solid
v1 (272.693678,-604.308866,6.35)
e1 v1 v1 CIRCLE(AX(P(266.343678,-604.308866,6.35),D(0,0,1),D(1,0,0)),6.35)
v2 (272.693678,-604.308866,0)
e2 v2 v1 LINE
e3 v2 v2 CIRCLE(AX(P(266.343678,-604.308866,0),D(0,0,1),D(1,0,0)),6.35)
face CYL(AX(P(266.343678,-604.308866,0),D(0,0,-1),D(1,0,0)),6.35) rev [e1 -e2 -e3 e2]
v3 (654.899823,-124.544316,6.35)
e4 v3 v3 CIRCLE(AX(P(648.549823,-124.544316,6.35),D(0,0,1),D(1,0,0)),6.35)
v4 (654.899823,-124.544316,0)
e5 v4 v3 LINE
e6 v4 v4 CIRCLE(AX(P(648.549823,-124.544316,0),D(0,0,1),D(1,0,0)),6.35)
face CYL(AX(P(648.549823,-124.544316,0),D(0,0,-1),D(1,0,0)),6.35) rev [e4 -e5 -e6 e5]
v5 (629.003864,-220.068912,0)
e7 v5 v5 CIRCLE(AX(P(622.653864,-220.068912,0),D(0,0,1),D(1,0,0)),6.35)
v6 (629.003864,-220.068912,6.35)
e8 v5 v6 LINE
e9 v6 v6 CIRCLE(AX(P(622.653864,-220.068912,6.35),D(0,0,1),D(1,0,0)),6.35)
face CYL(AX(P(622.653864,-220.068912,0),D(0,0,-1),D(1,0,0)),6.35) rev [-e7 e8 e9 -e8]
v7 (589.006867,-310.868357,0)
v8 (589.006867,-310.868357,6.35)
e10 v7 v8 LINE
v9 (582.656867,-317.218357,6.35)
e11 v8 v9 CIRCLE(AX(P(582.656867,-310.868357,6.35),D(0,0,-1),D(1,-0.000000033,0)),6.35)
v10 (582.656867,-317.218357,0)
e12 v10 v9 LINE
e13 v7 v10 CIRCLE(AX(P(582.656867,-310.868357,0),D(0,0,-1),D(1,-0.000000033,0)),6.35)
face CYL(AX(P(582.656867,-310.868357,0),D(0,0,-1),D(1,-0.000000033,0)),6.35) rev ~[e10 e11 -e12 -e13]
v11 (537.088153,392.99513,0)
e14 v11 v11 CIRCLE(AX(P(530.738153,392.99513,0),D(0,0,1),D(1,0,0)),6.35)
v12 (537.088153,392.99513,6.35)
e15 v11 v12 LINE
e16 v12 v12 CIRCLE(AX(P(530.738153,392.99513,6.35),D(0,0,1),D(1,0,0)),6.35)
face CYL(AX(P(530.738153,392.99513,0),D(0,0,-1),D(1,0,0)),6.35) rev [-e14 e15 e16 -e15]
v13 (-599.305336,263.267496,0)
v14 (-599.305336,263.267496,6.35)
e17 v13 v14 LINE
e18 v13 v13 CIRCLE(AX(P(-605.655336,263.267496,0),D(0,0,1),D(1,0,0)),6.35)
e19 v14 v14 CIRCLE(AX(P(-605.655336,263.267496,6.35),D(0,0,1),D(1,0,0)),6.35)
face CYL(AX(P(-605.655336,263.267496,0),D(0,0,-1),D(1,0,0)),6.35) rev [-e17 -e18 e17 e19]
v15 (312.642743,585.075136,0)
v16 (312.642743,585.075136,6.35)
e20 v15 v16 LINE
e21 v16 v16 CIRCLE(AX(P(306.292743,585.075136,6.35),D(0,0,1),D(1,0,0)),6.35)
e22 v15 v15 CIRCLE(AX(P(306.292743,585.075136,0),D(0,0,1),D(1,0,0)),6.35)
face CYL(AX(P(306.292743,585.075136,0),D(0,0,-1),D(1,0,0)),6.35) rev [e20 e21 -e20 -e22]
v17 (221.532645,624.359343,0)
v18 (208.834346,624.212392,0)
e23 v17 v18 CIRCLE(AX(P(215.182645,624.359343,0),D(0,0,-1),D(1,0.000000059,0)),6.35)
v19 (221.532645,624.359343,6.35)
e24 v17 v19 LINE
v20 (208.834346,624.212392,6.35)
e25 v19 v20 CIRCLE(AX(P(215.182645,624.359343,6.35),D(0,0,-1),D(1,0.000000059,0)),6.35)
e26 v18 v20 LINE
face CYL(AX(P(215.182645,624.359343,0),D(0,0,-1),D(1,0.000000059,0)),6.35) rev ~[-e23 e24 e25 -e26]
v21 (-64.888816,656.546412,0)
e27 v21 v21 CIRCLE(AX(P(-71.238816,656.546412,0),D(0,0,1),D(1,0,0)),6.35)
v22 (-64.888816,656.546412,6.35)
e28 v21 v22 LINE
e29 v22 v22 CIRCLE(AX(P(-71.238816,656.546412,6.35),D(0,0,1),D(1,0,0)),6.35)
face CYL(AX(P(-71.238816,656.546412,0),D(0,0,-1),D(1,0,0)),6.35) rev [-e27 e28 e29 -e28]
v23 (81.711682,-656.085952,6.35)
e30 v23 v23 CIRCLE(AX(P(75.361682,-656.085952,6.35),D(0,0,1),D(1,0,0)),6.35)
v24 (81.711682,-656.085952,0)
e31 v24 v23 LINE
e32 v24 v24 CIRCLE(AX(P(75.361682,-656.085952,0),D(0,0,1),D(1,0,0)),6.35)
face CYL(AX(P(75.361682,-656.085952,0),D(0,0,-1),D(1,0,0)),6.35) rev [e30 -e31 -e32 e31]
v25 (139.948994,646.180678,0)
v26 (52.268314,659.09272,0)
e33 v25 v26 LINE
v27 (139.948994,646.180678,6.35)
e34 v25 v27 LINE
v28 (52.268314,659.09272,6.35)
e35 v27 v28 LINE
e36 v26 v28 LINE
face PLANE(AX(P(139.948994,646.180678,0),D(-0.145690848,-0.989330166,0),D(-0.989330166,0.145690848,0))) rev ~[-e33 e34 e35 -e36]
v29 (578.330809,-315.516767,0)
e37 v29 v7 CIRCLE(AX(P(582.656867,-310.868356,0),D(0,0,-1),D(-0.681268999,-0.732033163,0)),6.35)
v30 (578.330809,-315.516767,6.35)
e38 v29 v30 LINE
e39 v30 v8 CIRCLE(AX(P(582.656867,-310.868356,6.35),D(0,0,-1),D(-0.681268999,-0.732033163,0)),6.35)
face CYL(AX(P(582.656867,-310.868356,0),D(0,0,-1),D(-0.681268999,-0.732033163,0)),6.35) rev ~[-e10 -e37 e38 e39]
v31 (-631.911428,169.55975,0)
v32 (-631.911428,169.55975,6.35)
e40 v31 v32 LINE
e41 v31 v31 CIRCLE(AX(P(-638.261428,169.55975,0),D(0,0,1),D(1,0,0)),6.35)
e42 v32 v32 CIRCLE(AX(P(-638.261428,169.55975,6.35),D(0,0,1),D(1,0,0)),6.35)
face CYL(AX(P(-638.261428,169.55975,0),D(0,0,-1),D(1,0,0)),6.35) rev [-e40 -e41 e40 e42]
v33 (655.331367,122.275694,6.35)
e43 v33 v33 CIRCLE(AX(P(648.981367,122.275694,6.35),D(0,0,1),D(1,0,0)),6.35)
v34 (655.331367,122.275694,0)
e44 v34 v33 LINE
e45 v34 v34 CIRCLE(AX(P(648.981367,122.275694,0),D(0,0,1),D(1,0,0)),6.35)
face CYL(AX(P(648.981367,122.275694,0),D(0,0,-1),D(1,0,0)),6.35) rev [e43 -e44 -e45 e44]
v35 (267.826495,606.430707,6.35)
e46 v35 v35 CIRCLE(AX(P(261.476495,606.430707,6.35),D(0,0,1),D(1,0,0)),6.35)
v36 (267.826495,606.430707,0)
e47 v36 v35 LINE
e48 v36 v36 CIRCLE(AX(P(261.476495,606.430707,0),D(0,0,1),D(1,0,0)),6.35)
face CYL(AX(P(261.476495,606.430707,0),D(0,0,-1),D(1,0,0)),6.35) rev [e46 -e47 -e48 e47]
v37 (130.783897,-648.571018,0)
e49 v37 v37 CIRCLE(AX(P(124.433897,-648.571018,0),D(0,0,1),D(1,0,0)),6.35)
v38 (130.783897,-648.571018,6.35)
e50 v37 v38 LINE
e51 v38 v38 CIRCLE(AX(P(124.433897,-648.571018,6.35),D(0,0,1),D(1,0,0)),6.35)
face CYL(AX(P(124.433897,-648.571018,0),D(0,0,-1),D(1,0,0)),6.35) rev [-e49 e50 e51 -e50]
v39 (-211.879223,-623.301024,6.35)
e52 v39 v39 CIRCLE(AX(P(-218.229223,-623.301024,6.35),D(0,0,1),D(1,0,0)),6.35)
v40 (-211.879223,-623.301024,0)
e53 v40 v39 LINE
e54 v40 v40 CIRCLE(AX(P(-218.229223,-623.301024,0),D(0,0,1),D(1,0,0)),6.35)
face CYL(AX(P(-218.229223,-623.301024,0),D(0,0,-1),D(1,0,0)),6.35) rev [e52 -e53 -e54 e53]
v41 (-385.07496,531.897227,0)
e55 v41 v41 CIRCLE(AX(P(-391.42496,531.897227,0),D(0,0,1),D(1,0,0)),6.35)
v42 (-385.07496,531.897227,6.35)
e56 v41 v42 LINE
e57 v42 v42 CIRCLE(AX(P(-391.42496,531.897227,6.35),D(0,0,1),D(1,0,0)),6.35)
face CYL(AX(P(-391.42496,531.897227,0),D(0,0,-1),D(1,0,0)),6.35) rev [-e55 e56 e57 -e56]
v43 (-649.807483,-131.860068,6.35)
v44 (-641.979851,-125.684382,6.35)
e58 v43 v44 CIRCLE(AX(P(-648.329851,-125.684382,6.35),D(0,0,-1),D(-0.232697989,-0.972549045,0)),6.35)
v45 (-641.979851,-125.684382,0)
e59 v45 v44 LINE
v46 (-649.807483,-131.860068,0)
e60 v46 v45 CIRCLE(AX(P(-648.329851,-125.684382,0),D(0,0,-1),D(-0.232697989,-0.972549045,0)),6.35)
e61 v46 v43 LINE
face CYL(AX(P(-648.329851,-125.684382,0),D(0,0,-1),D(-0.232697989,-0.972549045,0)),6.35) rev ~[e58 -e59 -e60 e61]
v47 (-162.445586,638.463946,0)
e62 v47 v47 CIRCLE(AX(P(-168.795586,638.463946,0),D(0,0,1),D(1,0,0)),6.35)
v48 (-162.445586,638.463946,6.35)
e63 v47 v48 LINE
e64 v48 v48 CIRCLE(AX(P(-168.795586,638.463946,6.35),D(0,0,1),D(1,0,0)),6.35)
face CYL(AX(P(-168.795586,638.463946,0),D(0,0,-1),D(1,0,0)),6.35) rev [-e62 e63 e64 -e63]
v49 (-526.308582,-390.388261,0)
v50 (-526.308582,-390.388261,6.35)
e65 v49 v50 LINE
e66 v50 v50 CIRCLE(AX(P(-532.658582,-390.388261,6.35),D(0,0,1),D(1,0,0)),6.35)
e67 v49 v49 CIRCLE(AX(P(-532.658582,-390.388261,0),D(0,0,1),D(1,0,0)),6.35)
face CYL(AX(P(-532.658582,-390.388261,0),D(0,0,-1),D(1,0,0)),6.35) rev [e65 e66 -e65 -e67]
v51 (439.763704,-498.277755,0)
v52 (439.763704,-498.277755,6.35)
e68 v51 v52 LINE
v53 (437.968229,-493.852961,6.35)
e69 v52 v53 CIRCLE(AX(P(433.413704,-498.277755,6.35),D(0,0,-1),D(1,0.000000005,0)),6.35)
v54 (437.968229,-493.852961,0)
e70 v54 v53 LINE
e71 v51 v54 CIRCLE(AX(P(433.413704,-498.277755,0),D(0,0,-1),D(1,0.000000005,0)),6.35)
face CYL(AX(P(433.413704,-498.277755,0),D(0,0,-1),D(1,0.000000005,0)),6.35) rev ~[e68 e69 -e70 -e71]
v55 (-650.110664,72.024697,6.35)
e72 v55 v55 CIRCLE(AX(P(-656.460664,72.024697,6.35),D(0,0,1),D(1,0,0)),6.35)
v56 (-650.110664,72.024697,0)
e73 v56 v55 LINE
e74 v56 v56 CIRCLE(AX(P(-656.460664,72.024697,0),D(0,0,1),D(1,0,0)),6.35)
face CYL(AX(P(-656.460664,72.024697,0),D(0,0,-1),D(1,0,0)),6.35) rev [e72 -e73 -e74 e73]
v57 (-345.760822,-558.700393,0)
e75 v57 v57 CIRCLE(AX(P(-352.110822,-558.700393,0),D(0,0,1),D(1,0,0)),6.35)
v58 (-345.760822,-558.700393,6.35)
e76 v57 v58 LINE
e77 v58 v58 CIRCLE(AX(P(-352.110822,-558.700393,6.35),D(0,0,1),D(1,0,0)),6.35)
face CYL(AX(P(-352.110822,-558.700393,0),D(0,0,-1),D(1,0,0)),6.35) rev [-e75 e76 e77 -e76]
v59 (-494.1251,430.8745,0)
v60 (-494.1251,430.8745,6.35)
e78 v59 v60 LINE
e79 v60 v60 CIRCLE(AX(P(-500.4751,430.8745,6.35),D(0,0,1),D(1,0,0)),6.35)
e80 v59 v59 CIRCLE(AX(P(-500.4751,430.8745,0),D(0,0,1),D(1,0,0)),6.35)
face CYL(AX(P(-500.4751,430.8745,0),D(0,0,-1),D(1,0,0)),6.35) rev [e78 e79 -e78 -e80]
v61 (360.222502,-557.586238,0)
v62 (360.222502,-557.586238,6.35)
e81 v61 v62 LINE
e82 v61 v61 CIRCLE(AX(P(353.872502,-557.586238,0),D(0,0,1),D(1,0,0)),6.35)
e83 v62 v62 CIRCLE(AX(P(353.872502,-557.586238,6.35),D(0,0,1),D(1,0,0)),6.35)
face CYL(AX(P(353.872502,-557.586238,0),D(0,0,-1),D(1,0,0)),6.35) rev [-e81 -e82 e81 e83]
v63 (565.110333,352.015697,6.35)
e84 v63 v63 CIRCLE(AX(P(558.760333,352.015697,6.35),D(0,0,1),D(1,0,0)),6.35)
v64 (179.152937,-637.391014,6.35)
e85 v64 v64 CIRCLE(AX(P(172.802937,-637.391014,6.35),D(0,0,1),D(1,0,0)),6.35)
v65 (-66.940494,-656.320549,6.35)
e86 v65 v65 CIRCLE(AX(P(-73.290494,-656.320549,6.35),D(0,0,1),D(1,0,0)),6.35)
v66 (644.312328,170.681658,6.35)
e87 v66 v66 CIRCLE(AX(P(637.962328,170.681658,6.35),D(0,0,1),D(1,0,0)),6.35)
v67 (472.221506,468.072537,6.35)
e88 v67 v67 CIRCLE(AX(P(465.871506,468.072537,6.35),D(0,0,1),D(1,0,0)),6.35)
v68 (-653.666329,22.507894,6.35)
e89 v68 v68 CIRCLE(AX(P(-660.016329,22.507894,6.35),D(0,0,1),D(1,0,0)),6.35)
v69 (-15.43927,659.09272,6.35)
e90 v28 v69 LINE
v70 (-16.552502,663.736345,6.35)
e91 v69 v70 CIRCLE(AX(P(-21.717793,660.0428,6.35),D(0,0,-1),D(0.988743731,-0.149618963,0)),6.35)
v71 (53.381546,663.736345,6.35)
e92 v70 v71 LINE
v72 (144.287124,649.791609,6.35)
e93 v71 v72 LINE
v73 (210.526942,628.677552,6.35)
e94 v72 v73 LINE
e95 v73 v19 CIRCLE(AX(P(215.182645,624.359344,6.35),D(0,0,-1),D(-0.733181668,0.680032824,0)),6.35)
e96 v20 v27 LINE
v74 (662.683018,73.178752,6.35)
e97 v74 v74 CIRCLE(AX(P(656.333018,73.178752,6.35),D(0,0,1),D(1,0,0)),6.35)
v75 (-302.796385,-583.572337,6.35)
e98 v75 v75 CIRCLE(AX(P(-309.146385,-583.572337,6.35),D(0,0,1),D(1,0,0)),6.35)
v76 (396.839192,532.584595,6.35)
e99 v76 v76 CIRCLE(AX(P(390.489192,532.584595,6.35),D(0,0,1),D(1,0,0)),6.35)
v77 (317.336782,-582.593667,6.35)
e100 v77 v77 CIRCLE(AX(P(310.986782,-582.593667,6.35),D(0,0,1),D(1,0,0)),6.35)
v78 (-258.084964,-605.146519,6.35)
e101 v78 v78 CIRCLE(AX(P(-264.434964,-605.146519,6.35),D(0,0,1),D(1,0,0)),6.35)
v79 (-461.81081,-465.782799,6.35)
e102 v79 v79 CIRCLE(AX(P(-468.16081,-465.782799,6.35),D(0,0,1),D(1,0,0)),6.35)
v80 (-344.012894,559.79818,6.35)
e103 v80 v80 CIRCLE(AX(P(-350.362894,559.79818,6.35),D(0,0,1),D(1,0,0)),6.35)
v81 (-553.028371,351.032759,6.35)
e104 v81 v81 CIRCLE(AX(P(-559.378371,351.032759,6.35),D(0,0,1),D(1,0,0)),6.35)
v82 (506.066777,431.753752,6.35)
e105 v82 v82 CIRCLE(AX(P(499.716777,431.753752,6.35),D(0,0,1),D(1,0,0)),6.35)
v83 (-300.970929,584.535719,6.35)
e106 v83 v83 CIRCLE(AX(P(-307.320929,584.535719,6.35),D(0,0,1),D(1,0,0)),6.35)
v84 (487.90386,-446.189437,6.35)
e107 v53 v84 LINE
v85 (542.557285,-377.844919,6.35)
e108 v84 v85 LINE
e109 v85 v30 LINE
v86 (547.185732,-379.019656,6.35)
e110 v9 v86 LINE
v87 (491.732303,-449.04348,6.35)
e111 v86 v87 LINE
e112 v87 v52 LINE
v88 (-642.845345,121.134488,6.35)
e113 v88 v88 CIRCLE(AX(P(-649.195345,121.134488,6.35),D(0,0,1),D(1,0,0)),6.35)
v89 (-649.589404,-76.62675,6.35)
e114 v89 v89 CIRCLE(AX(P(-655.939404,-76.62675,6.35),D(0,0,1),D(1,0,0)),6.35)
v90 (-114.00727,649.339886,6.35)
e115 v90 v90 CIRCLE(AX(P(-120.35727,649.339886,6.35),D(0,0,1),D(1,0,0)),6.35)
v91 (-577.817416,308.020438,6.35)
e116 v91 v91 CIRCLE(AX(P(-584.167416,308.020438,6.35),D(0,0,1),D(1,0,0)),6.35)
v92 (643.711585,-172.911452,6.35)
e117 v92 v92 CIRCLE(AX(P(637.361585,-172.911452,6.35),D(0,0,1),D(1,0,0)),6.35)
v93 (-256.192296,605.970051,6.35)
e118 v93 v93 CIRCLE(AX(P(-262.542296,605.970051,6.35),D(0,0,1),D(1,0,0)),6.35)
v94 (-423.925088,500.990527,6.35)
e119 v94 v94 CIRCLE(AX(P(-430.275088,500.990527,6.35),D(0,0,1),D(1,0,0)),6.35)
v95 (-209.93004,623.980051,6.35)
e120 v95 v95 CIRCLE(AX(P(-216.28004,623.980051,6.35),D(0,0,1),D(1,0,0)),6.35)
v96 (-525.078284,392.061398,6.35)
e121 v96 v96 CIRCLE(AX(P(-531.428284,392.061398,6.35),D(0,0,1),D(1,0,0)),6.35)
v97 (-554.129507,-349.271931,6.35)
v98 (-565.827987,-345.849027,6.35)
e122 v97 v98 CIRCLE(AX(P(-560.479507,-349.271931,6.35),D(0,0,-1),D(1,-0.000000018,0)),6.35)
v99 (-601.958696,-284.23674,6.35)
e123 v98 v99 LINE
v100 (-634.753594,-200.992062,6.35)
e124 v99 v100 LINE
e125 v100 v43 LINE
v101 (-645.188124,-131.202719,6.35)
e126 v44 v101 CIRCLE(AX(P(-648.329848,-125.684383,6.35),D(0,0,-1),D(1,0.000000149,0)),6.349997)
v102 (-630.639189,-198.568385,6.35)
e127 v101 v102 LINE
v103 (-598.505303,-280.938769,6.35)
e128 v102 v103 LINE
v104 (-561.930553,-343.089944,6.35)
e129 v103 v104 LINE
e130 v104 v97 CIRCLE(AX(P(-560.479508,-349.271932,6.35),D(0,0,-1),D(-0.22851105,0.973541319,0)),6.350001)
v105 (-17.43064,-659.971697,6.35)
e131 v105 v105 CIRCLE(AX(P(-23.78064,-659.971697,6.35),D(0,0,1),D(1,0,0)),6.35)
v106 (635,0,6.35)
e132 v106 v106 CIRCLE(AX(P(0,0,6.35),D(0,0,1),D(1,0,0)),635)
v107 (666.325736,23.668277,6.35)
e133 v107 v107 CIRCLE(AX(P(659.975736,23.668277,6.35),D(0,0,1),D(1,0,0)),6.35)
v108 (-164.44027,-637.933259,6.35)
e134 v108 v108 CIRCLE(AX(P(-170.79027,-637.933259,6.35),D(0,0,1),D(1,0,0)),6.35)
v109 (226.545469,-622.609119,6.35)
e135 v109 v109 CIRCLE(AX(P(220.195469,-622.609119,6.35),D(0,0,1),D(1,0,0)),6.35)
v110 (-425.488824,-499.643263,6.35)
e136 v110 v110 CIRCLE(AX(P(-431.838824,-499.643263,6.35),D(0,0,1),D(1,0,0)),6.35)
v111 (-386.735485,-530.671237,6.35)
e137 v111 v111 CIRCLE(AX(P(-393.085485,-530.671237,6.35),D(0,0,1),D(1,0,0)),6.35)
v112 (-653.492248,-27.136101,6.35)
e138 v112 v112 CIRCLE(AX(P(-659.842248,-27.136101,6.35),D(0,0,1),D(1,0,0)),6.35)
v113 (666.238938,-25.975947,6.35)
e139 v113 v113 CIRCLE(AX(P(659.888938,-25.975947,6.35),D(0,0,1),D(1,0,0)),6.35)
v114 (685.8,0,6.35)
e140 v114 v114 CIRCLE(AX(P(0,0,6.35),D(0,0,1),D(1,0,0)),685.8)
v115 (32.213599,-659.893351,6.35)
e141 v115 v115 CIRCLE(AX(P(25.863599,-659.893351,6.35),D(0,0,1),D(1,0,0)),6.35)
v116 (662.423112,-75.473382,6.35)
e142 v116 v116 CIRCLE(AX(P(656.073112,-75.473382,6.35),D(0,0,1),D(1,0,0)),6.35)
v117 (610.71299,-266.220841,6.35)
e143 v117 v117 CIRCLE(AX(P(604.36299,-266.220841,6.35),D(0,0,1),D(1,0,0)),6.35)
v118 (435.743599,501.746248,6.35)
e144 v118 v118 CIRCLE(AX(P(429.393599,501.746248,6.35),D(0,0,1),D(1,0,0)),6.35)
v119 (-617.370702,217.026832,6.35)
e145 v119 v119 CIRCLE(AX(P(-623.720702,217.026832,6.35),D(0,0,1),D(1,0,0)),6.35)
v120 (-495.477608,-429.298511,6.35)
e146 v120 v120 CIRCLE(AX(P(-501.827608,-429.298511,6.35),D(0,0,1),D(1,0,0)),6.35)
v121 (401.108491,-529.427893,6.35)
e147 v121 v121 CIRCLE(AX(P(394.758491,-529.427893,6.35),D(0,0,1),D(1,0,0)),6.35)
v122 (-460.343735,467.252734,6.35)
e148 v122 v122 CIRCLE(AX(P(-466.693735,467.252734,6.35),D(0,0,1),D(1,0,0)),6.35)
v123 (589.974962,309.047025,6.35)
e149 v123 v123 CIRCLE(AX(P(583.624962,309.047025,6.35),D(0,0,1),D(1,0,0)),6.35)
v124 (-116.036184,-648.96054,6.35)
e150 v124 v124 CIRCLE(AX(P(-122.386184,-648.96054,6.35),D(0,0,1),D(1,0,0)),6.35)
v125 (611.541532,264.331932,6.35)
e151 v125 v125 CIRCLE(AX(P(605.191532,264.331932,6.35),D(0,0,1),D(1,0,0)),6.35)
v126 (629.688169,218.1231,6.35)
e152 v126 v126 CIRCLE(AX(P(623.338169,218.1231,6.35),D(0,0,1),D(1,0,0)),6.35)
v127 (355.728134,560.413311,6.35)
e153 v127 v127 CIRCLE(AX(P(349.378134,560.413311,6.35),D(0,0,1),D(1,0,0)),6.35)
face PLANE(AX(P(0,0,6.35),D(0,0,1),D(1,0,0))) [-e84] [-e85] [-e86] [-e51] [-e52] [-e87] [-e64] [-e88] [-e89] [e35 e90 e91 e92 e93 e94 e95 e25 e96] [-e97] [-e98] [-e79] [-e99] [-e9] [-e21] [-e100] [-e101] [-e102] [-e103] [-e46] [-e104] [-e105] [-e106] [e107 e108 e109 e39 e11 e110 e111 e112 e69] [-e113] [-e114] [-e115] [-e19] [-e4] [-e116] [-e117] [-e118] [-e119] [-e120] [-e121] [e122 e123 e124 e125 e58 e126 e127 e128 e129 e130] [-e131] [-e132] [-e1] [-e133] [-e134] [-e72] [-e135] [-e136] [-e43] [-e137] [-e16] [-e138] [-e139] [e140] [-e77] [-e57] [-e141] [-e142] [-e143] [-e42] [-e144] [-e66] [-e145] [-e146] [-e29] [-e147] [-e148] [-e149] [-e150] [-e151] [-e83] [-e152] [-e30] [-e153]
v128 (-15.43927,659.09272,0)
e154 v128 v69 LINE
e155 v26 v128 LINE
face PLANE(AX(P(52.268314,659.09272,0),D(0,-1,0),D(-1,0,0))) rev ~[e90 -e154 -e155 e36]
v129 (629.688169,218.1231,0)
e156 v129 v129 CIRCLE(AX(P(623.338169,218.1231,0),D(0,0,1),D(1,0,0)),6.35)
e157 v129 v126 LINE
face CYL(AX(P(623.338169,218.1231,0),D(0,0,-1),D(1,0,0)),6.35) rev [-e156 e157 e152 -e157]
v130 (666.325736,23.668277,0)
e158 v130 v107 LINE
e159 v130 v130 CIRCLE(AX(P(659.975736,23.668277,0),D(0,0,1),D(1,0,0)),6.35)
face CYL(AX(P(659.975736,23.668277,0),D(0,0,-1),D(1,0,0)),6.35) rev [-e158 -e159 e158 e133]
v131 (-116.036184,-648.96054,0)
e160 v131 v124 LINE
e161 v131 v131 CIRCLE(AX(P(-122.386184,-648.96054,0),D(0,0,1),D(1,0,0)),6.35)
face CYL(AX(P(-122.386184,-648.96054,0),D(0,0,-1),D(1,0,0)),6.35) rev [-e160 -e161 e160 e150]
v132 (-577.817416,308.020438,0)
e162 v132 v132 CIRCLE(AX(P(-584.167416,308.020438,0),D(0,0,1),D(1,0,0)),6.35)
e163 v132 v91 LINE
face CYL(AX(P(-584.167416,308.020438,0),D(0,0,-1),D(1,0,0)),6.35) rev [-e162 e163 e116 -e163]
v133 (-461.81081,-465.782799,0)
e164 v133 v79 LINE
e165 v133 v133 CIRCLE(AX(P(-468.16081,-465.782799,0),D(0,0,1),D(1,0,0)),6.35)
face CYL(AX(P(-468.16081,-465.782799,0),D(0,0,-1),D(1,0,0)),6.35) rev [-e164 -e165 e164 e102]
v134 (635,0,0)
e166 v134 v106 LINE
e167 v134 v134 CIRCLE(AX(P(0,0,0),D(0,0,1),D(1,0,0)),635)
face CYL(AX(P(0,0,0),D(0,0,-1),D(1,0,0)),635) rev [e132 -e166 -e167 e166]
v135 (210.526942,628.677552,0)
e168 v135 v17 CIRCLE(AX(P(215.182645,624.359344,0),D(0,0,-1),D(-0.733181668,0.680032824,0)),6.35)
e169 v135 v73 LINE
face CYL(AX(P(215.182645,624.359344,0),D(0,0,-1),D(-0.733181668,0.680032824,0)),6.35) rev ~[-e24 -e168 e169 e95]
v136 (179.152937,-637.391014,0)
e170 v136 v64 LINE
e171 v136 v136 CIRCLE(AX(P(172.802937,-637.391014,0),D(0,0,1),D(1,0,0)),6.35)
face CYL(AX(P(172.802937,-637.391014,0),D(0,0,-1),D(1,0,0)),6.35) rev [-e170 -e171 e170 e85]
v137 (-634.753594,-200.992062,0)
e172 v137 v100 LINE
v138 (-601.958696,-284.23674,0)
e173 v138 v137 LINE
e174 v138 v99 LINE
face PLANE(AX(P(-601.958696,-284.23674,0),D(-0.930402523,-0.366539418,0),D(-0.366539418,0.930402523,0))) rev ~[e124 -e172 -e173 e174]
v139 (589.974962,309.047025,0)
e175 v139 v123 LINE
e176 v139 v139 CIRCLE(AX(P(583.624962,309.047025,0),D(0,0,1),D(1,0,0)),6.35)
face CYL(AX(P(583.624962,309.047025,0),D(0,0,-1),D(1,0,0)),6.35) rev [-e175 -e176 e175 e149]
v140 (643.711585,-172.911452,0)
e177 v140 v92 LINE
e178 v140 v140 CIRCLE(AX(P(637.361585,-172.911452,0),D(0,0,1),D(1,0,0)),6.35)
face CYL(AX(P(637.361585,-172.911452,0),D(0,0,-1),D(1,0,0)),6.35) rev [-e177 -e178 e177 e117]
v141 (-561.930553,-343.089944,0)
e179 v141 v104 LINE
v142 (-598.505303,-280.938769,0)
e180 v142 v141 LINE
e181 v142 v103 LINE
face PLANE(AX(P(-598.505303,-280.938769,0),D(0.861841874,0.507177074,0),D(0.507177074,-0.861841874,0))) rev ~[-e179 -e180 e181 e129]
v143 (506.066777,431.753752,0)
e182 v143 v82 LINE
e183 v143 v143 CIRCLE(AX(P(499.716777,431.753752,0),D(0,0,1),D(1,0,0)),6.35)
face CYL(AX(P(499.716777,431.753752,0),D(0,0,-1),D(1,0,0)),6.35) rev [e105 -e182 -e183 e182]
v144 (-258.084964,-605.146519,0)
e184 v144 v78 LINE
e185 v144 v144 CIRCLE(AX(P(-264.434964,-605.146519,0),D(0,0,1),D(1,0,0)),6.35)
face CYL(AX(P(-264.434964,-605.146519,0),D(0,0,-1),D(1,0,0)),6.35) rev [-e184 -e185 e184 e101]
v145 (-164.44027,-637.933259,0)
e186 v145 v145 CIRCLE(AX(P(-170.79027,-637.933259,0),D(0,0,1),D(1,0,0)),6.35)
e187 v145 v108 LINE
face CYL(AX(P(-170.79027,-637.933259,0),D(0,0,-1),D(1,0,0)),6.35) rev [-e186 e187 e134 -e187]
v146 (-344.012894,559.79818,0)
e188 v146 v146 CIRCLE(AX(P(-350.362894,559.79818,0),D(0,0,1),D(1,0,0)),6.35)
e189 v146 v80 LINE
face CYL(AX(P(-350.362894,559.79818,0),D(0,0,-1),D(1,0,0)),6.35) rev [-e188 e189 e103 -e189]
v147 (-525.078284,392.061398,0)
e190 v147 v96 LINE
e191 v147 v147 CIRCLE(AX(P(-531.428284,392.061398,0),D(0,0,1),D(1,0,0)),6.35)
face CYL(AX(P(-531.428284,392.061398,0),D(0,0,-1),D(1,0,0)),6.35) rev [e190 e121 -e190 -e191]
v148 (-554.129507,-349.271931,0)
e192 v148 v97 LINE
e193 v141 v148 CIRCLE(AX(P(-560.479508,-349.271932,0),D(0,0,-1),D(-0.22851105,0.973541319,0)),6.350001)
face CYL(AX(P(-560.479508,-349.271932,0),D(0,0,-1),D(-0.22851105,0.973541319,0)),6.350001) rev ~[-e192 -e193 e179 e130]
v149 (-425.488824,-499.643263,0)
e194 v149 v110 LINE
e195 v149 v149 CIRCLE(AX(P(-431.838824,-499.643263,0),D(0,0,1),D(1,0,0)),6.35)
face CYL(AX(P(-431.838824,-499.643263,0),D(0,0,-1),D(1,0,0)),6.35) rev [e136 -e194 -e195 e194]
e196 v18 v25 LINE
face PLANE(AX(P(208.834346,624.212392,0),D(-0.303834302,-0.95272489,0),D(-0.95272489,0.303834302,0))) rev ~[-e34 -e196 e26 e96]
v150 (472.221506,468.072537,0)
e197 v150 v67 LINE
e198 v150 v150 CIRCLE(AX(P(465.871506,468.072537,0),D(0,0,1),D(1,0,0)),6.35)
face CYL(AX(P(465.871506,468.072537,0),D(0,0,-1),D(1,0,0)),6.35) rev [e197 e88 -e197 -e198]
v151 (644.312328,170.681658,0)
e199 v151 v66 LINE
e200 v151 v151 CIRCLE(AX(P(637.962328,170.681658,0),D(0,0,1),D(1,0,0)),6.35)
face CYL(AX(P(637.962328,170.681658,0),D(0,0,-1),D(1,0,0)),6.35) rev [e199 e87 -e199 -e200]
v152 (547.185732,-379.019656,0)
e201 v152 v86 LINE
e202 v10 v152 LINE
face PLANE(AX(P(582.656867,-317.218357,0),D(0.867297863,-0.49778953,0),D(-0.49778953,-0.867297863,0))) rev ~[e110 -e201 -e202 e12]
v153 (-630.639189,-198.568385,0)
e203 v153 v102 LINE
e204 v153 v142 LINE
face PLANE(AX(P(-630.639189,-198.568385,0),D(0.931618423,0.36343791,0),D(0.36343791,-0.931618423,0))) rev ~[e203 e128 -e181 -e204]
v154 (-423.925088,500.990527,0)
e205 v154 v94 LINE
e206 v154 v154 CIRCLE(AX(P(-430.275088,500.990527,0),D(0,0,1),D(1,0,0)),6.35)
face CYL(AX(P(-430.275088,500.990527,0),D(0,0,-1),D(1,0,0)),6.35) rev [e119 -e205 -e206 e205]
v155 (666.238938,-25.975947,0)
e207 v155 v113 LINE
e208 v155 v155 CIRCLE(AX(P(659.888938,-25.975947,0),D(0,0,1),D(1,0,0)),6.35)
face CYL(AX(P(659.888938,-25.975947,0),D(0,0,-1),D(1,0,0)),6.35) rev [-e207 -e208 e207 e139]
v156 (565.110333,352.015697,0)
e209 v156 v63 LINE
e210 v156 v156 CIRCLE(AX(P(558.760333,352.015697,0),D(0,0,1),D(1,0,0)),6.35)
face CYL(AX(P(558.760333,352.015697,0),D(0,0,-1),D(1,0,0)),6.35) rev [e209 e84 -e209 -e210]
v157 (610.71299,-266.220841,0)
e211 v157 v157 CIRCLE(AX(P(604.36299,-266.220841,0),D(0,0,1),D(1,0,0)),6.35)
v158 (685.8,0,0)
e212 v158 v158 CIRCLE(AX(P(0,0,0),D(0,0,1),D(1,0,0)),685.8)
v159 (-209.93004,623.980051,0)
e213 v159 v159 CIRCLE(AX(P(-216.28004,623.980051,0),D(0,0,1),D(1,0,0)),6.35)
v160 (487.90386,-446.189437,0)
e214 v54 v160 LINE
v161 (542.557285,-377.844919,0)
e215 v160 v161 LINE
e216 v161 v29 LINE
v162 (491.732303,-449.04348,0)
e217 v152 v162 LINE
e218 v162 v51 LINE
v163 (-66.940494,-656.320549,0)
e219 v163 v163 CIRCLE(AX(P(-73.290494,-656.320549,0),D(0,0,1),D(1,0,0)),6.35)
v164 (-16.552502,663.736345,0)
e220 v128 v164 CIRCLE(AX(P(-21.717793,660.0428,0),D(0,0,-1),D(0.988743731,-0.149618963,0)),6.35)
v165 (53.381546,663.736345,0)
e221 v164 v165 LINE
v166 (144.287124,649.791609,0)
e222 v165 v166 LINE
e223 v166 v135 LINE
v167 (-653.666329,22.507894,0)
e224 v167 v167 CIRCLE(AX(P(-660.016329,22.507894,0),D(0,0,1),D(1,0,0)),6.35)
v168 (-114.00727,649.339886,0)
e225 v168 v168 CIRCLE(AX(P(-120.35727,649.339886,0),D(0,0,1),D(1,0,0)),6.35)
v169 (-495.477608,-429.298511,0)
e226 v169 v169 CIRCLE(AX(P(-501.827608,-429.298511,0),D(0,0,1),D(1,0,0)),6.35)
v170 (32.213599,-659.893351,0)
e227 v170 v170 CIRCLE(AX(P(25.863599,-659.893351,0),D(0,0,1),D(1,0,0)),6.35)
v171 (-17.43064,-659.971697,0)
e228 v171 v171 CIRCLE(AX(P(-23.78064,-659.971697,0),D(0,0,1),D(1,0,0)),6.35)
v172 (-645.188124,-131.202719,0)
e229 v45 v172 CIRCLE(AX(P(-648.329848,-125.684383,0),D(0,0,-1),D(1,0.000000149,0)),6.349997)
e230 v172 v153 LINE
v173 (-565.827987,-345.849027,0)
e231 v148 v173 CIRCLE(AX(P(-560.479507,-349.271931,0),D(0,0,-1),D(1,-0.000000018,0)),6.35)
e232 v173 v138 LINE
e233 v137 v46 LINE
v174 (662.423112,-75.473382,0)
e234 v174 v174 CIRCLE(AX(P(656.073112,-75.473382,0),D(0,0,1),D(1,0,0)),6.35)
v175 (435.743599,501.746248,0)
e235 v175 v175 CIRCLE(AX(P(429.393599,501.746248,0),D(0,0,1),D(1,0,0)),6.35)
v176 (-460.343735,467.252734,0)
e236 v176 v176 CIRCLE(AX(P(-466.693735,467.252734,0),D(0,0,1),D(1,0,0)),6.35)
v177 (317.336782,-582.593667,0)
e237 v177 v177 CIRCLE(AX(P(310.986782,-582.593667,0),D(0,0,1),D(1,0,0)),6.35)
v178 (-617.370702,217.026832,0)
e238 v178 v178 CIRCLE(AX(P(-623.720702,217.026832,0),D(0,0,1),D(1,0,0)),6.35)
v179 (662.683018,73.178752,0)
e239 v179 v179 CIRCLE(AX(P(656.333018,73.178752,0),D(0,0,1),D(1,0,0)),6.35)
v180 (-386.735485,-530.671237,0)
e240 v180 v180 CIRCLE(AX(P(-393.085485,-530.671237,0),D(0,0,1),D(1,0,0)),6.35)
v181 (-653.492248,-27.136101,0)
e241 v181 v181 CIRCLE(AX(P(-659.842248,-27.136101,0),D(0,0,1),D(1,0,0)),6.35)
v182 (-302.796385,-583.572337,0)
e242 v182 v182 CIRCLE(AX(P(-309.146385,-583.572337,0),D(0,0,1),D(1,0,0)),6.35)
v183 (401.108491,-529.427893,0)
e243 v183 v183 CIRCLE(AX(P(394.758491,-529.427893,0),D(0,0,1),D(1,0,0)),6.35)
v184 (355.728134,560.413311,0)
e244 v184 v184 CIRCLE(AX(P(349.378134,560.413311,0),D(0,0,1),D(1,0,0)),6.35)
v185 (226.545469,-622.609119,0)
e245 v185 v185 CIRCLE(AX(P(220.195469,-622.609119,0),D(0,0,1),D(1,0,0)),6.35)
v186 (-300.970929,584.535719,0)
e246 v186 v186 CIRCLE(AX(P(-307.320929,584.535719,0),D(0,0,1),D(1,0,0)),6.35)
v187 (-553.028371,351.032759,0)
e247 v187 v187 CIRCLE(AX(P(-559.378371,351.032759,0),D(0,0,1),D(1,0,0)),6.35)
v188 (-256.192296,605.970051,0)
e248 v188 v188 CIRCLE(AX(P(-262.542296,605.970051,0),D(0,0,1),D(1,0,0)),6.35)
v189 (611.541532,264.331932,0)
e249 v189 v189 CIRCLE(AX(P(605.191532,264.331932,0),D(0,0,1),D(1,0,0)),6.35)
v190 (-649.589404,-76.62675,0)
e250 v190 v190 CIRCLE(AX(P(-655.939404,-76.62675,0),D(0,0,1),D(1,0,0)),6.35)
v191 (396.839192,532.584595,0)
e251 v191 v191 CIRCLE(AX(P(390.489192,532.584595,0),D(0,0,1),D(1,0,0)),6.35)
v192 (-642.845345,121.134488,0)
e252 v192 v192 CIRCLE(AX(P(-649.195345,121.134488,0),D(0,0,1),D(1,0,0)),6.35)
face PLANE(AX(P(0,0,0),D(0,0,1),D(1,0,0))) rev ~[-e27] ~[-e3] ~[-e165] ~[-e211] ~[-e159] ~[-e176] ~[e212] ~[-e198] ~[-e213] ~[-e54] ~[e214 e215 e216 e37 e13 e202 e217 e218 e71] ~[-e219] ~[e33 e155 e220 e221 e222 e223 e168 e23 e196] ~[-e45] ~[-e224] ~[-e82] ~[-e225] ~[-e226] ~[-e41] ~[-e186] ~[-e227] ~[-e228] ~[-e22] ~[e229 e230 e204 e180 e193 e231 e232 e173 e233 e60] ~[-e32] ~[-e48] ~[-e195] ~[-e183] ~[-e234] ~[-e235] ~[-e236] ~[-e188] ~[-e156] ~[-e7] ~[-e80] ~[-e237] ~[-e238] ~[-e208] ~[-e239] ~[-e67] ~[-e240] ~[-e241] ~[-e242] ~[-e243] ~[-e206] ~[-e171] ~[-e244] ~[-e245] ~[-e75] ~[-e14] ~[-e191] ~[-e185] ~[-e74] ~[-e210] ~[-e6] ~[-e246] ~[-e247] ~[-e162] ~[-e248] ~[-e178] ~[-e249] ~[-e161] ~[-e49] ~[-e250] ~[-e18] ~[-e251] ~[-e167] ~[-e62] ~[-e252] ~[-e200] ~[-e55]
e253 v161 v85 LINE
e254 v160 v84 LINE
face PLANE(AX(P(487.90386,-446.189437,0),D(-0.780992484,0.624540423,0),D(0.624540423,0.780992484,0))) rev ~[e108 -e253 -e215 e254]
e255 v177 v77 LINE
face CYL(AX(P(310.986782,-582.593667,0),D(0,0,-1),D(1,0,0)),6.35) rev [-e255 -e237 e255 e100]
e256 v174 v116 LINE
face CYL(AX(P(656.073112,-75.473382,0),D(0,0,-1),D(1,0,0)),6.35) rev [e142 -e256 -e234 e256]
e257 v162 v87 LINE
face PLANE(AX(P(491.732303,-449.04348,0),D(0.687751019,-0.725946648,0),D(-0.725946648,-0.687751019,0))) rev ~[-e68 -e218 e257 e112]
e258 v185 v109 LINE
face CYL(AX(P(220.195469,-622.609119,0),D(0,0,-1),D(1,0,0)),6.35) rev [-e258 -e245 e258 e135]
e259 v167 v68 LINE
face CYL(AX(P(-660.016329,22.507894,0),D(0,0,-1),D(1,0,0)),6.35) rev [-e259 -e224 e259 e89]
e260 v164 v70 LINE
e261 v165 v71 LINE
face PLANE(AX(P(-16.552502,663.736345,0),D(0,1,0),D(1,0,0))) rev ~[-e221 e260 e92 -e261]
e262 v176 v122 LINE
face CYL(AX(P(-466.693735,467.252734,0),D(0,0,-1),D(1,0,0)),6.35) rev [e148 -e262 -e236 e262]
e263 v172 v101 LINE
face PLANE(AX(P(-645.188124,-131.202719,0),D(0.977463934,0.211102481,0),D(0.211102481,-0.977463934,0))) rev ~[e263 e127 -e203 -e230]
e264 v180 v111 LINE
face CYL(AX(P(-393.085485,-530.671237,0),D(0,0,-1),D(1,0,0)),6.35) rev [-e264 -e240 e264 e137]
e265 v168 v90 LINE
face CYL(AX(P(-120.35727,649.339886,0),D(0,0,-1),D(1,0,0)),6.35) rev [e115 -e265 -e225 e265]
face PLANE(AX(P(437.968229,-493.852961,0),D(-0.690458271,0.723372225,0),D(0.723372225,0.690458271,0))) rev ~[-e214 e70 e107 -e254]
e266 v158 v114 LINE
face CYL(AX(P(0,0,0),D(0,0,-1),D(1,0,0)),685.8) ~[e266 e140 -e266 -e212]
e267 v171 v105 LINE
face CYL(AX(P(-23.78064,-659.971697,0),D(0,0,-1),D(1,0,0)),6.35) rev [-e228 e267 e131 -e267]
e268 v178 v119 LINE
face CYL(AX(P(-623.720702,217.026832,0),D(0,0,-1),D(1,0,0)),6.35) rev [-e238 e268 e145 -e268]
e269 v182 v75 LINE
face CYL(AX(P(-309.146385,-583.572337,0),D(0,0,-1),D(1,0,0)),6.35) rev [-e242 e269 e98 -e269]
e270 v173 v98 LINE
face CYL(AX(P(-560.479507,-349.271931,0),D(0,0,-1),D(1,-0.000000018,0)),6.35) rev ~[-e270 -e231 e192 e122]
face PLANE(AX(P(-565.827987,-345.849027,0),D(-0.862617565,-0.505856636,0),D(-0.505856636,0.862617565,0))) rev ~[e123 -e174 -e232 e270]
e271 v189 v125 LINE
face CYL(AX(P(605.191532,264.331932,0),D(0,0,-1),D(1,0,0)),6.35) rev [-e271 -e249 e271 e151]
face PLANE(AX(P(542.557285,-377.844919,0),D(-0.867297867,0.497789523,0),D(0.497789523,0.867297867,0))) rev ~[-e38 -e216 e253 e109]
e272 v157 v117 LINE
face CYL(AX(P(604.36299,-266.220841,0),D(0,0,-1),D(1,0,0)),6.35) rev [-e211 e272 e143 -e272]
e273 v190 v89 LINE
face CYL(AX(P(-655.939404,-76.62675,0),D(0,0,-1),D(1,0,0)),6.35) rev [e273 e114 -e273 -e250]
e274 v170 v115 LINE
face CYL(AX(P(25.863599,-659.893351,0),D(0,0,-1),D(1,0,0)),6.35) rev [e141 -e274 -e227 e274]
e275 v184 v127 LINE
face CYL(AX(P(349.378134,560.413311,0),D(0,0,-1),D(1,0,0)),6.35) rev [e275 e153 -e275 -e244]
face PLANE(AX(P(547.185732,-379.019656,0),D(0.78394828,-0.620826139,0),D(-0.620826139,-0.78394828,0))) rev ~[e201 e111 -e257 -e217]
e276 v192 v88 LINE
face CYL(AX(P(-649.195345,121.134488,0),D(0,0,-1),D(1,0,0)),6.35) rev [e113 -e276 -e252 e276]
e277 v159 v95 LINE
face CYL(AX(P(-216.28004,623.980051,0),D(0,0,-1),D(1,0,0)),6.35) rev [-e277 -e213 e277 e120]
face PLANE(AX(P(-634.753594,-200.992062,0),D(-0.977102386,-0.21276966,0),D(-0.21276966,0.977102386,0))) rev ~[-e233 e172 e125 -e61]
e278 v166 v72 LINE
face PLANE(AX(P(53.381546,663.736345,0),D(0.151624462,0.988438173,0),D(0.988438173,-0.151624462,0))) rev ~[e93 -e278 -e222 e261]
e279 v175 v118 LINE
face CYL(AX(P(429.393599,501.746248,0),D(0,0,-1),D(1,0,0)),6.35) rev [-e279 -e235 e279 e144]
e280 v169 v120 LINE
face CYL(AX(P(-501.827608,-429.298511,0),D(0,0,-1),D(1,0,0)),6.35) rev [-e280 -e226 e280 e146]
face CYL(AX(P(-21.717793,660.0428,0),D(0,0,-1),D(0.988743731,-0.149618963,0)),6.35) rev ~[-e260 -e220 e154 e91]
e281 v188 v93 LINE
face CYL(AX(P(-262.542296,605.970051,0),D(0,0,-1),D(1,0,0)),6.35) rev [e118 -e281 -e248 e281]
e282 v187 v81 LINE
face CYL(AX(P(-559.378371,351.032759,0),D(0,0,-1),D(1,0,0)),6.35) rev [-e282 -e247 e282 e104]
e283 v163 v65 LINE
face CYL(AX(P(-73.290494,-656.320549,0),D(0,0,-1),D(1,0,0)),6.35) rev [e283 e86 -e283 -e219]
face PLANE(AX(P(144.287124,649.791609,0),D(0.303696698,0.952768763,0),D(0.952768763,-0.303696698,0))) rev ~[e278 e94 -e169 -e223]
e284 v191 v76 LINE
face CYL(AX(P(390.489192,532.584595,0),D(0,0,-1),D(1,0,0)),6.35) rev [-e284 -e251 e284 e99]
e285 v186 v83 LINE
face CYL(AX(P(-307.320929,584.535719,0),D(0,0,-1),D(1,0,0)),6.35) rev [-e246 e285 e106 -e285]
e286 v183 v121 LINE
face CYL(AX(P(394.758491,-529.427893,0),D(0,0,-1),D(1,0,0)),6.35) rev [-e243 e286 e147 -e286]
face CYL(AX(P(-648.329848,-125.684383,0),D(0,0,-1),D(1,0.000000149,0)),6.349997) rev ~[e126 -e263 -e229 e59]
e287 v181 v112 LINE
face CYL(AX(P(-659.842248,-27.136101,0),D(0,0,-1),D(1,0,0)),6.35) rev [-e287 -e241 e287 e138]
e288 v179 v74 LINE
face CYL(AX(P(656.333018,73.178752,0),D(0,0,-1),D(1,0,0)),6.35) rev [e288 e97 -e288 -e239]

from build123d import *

# Parameters (mm, degrees)
F0_R     = 685.8
F0_R_2   = 6.35
F0_R_3   = 635
F1_DEPTH = 6.35


with BuildPart() as f1:
    # F0 (on Top) → F1 (new body)
    with BuildSketch(Plane.XY):
        Circle(F0_R)
        with Locations((-352.110822, -558.700393)):
            Circle(F0_R_2, mode=Mode.SUBTRACT)
        with Locations((-393.085485, -530.671237)):
            Circle(F0_R_2, mode=Mode.SUBTRACT)
        with Locations((-532.658582, -390.388261)):
            Circle(F0_R_2, mode=Mode.SUBTRACT)
        with Locations((-431.838824, -499.643263)):
            Circle(F0_R_2, mode=Mode.SUBTRACT)
        with Locations((-501.827608, -429.298511)):
            Circle(F0_R_2, mode=Mode.SUBTRACT)
        with Locations((-468.16081, -465.782799)):
            Circle(F0_R_2, mode=Mode.SUBTRACT)
        with Locations((-264.434964, -605.146519)):
            Circle(F0_R_2, mode=Mode.SUBTRACT)
        with Locations((-218.229223, -623.301024)):
            Circle(F0_R_2, mode=Mode.SUBTRACT)
        with Locations((-309.146385, -583.572337)):
            Circle(F0_R_2, mode=Mode.SUBTRACT)
        with Locations((-122.386184, -648.96054)):
            Circle(F0_R_2, mode=Mode.SUBTRACT)
        with Locations((-170.79027, -637.933259)):
            Circle(F0_R_2, mode=Mode.SUBTRACT)
        with Locations((-73.290494, -656.320549)):
            Circle(F0_R_2, mode=Mode.SUBTRACT)
        with Locations((-23.78064, -659.971697)):
            Circle(F0_R_2, mode=Mode.SUBTRACT)
        with BuildLine():
            ThreePointArc((-561.930553, -343.089944), (-556.535629, -344.295153), (-554.129507, -349.271931))
            ThreePointArc((-554.129507, -349.271931), (-562.262715, -355.36641), (-565.827987, -345.849027))
            Line((-565.827987, -345.849027), (-601.958696, -284.23674))
            Line((-601.958696, -284.23674), (-634.753594, -200.992062))
            Line((-634.753594, -200.992062), (-649.807483, -131.860068))
            ThreePointArc((-649.807483, -131.860068), (-652.263014, -120.699131), (-641.979851, -125.684382))
            ThreePointArc((-641.979851, -125.684382), (-642.840203, -128.875975), (-645.188124, -131.202719))
            Line((-645.188124, -131.202719), (-630.639189, -198.568385))
            Line((-630.639189, -198.568385), (-598.505303, -280.938769))
            Line((-598.505303, -280.938769), (-561.930553, -343.089944))
        make_face(mode=Mode.SUBTRACT)
        with Locations((-655.939404, -76.62675)):
            Circle(F0_R_2, mode=Mode.SUBTRACT)
        with Locations((-659.842248, -27.136101)):
            Circle(F0_R_2, mode=Mode.SUBTRACT)
        with Locations((25.863599, -659.893351)):
            Circle(F0_R_2, mode=Mode.SUBTRACT)
        with Locations((75.361682, -656.085952)):
            Circle(F0_R_2, mode=Mode.SUBTRACT)
        with Locations((124.433897, -648.571018)):
            Circle(F0_R_2, mode=Mode.SUBTRACT)
        with Locations((172.802937, -637.391014)):
            Circle(F0_R_2, mode=Mode.SUBTRACT)
        with Locations((220.195469, -622.609119)):
            Circle(F0_R_2, mode=Mode.SUBTRACT)
        with Locations((266.343678, -604.308866)):
            Circle(F0_R_2, mode=Mode.SUBTRACT)
        with Locations((310.986782, -582.593667)):
            Circle(F0_R_2, mode=Mode.SUBTRACT)
        with Locations((353.872502, -557.586238)):
            Circle(F0_R_2, mode=Mode.SUBTRACT)
        with Locations((394.758491, -529.427893)):
            Circle(F0_R_2, mode=Mode.SUBTRACT)
        with BuildLine():
            ThreePointArc((578.330809, -315.516767), (580.121908, -305.046288), (589.006867, -310.868357))
            ThreePointArc((589.006867, -310.868357), (587.146995, -315.358485), (582.656867, -317.218357))
            Line((582.656867, -317.218357), (547.185732, -379.019656))
            Line((547.185732, -379.019656), (491.732303, -449.04348))
            Line((491.732303, -449.04348), (439.763704, -498.277755))
            ThreePointArc((439.763704, -498.277755), (427.529669, -500.665355), (437.968229, -493.852961))
            Line((437.968229, -493.852961), (487.90386, -446.189437))
            Line((487.90386, -446.189437), (542.557285, -377.844919))
            Line((542.557285, -377.844919), (578.330809, -315.516767))
        make_face(mode=Mode.SUBTRACT)
        with Locations((604.36299, -266.220841)):
            Circle(F0_R_2, mode=Mode.SUBTRACT)
        with Locations((622.653864, -220.068912)):
            Circle(F0_R_2, mode=Mode.SUBTRACT)
        with Locations((637.361585, -172.911452)):
            Circle(F0_R_2, mode=Mode.SUBTRACT)
        with Locations((648.549823, -124.544316)):
            Circle(F0_R_2, mode=Mode.SUBTRACT)
        with Locations((656.073112, -75.473382)):
            Circle(F0_R_2, mode=Mode.SUBTRACT)
        with Locations((659.888938, -25.975947)):
            Circle(F0_R_2, mode=Mode.SUBTRACT)
        with Locations((-660.016329, 22.507894)):
            Circle(F0_R_2, mode=Mode.SUBTRACT)
        with Locations((-656.460664, 72.024697)):
            Circle(F0_R_2, mode=Mode.SUBTRACT)
        with Locations((-649.195345, 121.134488)):
            Circle(F0_R_2, mode=Mode.SUBTRACT)
        with Locations((-638.261428, 169.55975)):
            Circle(F0_R_2, mode=Mode.SUBTRACT)
        with Locations((-623.720702, 217.026832)):
            Circle(F0_R_2, mode=Mode.SUBTRACT)
        with Locations((-605.655336, 263.267496)):
            Circle(F0_R_2, mode=Mode.SUBTRACT)
        with Locations((-584.167416, 308.020438)):
            Circle(F0_R_2, mode=Mode.SUBTRACT)
        with Locations((-559.378371, 351.032759)):
            Circle(F0_R_2, mode=Mode.SUBTRACT)
        with Locations((-531.428284, 392.061398)):
            Circle(F0_R_2, mode=Mode.SUBTRACT)
        with Locations((-500.4751, 430.8745)):
            Circle(F0_R_2, mode=Mode.SUBTRACT)
        with Locations((-466.693735, 467.252734)):
            Circle(F0_R_2, mode=Mode.SUBTRACT)
        with Locations((-430.275088, 500.990527)):
            Circle(F0_R_2, mode=Mode.SUBTRACT)
        with Locations((-391.42496, 531.897227)):
            Circle(F0_R_2, mode=Mode.SUBTRACT)
        with Locations((-350.362894, 559.79818)):
            Circle(F0_R_2, mode=Mode.SUBTRACT)
        with Locations((-307.320929, 584.535719)):
            Circle(F0_R_2, mode=Mode.SUBTRACT)
        with Locations((-262.542296, 605.970051)):
            Circle(F0_R_2, mode=Mode.SUBTRACT)
        with Locations((-216.28004, 623.980051)):
            Circle(F0_R_2, mode=Mode.SUBTRACT)
        with Locations((-168.795586, 638.463946)):
            Circle(F0_R_2, mode=Mode.SUBTRACT)
        with Locations((-120.35727, 649.339886)):
            Circle(F0_R_2, mode=Mode.SUBTRACT)
        with Locations((-71.238816, 656.546412)):
            Circle(F0_R_2, mode=Mode.SUBTRACT)
        Circle(F0_R_3, mode=Mode.SUBTRACT)
        with Locations((659.975736, 23.668277)):
            Circle(F0_R_2, mode=Mode.SUBTRACT)
        with Locations((656.333018, 73.178752)):
            Circle(F0_R_2, mode=Mode.SUBTRACT)
        with Locations((648.981367, 122.275694)):
            Circle(F0_R_2, mode=Mode.SUBTRACT)
        with Locations((637.962328, 170.681658)):
            Circle(F0_R_2, mode=Mode.SUBTRACT)
        with Locations((623.338169, 218.1231)):
            Circle(F0_R_2, mode=Mode.SUBTRACT)
        with Locations((583.624962, 309.047025)):
            Circle(F0_R_2, mode=Mode.SUBTRACT)
        with Locations((605.191532, 264.331932)):
            Circle(F0_R_2, mode=Mode.SUBTRACT)
        with BuildLine():
            ThreePointArc((-15.43927, 659.09272), (-27.892825, 658.562438), (-16.552502, 663.736345))
            Line((-16.552502, 663.736345), (53.381546, 663.736345))
            Line((53.381546, 663.736345), (144.287124, 649.791609))
            Line((144.287124, 649.791609), (210.526942, 628.677552))
            ThreePointArc((210.526942, 628.677552), (217.501997, 630.270613), (221.532645, 624.359343))
            ThreePointArc((221.532645, 624.359343), (215.256126, 618.009768), (208.834346, 624.212392))
            Line((208.834346, 624.212392), (139.948994, 646.180678))
            Line((139.948994, 646.180678), (52.268314, 659.09272))
            Line((52.268314, 659.09272), (-15.43927, 659.09272))
        make_face(mode=Mode.SUBTRACT)
        with Locations((306.292743, 585.075136)):
            Circle(F0_R_2, mode=Mode.SUBTRACT)
        with Locations((261.476495, 606.430707)):
            Circle(F0_R_2, mode=Mode.SUBTRACT)
        with Locations((465.871506, 468.072537)):
            Circle(F0_R_2, mode=Mode.SUBTRACT)
        with Locations((499.716777, 431.753752)):
            Circle(F0_R_2, mode=Mode.SUBTRACT)
        with Locations((429.393599, 501.746248)):
            Circle(F0_R_2, mode=Mode.SUBTRACT)
        with Locations((558.760333, 352.015697)):
            Circle(F0_R_2, mode=Mode.SUBTRACT)
        with Locations((530.738153, 392.99513)):
            Circle(F0_R_2, mode=Mode.SUBTRACT)
        with Locations((390.489192, 532.584595)):
            Circle(F0_R_2, mode=Mode.SUBTRACT)
        with Locations((349.378134, 560.413311)):
            Circle(F0_R_2, mode=Mode.SUBTRACT)
    extrude(amount=F1_DEPTH)


solid = f1.part
